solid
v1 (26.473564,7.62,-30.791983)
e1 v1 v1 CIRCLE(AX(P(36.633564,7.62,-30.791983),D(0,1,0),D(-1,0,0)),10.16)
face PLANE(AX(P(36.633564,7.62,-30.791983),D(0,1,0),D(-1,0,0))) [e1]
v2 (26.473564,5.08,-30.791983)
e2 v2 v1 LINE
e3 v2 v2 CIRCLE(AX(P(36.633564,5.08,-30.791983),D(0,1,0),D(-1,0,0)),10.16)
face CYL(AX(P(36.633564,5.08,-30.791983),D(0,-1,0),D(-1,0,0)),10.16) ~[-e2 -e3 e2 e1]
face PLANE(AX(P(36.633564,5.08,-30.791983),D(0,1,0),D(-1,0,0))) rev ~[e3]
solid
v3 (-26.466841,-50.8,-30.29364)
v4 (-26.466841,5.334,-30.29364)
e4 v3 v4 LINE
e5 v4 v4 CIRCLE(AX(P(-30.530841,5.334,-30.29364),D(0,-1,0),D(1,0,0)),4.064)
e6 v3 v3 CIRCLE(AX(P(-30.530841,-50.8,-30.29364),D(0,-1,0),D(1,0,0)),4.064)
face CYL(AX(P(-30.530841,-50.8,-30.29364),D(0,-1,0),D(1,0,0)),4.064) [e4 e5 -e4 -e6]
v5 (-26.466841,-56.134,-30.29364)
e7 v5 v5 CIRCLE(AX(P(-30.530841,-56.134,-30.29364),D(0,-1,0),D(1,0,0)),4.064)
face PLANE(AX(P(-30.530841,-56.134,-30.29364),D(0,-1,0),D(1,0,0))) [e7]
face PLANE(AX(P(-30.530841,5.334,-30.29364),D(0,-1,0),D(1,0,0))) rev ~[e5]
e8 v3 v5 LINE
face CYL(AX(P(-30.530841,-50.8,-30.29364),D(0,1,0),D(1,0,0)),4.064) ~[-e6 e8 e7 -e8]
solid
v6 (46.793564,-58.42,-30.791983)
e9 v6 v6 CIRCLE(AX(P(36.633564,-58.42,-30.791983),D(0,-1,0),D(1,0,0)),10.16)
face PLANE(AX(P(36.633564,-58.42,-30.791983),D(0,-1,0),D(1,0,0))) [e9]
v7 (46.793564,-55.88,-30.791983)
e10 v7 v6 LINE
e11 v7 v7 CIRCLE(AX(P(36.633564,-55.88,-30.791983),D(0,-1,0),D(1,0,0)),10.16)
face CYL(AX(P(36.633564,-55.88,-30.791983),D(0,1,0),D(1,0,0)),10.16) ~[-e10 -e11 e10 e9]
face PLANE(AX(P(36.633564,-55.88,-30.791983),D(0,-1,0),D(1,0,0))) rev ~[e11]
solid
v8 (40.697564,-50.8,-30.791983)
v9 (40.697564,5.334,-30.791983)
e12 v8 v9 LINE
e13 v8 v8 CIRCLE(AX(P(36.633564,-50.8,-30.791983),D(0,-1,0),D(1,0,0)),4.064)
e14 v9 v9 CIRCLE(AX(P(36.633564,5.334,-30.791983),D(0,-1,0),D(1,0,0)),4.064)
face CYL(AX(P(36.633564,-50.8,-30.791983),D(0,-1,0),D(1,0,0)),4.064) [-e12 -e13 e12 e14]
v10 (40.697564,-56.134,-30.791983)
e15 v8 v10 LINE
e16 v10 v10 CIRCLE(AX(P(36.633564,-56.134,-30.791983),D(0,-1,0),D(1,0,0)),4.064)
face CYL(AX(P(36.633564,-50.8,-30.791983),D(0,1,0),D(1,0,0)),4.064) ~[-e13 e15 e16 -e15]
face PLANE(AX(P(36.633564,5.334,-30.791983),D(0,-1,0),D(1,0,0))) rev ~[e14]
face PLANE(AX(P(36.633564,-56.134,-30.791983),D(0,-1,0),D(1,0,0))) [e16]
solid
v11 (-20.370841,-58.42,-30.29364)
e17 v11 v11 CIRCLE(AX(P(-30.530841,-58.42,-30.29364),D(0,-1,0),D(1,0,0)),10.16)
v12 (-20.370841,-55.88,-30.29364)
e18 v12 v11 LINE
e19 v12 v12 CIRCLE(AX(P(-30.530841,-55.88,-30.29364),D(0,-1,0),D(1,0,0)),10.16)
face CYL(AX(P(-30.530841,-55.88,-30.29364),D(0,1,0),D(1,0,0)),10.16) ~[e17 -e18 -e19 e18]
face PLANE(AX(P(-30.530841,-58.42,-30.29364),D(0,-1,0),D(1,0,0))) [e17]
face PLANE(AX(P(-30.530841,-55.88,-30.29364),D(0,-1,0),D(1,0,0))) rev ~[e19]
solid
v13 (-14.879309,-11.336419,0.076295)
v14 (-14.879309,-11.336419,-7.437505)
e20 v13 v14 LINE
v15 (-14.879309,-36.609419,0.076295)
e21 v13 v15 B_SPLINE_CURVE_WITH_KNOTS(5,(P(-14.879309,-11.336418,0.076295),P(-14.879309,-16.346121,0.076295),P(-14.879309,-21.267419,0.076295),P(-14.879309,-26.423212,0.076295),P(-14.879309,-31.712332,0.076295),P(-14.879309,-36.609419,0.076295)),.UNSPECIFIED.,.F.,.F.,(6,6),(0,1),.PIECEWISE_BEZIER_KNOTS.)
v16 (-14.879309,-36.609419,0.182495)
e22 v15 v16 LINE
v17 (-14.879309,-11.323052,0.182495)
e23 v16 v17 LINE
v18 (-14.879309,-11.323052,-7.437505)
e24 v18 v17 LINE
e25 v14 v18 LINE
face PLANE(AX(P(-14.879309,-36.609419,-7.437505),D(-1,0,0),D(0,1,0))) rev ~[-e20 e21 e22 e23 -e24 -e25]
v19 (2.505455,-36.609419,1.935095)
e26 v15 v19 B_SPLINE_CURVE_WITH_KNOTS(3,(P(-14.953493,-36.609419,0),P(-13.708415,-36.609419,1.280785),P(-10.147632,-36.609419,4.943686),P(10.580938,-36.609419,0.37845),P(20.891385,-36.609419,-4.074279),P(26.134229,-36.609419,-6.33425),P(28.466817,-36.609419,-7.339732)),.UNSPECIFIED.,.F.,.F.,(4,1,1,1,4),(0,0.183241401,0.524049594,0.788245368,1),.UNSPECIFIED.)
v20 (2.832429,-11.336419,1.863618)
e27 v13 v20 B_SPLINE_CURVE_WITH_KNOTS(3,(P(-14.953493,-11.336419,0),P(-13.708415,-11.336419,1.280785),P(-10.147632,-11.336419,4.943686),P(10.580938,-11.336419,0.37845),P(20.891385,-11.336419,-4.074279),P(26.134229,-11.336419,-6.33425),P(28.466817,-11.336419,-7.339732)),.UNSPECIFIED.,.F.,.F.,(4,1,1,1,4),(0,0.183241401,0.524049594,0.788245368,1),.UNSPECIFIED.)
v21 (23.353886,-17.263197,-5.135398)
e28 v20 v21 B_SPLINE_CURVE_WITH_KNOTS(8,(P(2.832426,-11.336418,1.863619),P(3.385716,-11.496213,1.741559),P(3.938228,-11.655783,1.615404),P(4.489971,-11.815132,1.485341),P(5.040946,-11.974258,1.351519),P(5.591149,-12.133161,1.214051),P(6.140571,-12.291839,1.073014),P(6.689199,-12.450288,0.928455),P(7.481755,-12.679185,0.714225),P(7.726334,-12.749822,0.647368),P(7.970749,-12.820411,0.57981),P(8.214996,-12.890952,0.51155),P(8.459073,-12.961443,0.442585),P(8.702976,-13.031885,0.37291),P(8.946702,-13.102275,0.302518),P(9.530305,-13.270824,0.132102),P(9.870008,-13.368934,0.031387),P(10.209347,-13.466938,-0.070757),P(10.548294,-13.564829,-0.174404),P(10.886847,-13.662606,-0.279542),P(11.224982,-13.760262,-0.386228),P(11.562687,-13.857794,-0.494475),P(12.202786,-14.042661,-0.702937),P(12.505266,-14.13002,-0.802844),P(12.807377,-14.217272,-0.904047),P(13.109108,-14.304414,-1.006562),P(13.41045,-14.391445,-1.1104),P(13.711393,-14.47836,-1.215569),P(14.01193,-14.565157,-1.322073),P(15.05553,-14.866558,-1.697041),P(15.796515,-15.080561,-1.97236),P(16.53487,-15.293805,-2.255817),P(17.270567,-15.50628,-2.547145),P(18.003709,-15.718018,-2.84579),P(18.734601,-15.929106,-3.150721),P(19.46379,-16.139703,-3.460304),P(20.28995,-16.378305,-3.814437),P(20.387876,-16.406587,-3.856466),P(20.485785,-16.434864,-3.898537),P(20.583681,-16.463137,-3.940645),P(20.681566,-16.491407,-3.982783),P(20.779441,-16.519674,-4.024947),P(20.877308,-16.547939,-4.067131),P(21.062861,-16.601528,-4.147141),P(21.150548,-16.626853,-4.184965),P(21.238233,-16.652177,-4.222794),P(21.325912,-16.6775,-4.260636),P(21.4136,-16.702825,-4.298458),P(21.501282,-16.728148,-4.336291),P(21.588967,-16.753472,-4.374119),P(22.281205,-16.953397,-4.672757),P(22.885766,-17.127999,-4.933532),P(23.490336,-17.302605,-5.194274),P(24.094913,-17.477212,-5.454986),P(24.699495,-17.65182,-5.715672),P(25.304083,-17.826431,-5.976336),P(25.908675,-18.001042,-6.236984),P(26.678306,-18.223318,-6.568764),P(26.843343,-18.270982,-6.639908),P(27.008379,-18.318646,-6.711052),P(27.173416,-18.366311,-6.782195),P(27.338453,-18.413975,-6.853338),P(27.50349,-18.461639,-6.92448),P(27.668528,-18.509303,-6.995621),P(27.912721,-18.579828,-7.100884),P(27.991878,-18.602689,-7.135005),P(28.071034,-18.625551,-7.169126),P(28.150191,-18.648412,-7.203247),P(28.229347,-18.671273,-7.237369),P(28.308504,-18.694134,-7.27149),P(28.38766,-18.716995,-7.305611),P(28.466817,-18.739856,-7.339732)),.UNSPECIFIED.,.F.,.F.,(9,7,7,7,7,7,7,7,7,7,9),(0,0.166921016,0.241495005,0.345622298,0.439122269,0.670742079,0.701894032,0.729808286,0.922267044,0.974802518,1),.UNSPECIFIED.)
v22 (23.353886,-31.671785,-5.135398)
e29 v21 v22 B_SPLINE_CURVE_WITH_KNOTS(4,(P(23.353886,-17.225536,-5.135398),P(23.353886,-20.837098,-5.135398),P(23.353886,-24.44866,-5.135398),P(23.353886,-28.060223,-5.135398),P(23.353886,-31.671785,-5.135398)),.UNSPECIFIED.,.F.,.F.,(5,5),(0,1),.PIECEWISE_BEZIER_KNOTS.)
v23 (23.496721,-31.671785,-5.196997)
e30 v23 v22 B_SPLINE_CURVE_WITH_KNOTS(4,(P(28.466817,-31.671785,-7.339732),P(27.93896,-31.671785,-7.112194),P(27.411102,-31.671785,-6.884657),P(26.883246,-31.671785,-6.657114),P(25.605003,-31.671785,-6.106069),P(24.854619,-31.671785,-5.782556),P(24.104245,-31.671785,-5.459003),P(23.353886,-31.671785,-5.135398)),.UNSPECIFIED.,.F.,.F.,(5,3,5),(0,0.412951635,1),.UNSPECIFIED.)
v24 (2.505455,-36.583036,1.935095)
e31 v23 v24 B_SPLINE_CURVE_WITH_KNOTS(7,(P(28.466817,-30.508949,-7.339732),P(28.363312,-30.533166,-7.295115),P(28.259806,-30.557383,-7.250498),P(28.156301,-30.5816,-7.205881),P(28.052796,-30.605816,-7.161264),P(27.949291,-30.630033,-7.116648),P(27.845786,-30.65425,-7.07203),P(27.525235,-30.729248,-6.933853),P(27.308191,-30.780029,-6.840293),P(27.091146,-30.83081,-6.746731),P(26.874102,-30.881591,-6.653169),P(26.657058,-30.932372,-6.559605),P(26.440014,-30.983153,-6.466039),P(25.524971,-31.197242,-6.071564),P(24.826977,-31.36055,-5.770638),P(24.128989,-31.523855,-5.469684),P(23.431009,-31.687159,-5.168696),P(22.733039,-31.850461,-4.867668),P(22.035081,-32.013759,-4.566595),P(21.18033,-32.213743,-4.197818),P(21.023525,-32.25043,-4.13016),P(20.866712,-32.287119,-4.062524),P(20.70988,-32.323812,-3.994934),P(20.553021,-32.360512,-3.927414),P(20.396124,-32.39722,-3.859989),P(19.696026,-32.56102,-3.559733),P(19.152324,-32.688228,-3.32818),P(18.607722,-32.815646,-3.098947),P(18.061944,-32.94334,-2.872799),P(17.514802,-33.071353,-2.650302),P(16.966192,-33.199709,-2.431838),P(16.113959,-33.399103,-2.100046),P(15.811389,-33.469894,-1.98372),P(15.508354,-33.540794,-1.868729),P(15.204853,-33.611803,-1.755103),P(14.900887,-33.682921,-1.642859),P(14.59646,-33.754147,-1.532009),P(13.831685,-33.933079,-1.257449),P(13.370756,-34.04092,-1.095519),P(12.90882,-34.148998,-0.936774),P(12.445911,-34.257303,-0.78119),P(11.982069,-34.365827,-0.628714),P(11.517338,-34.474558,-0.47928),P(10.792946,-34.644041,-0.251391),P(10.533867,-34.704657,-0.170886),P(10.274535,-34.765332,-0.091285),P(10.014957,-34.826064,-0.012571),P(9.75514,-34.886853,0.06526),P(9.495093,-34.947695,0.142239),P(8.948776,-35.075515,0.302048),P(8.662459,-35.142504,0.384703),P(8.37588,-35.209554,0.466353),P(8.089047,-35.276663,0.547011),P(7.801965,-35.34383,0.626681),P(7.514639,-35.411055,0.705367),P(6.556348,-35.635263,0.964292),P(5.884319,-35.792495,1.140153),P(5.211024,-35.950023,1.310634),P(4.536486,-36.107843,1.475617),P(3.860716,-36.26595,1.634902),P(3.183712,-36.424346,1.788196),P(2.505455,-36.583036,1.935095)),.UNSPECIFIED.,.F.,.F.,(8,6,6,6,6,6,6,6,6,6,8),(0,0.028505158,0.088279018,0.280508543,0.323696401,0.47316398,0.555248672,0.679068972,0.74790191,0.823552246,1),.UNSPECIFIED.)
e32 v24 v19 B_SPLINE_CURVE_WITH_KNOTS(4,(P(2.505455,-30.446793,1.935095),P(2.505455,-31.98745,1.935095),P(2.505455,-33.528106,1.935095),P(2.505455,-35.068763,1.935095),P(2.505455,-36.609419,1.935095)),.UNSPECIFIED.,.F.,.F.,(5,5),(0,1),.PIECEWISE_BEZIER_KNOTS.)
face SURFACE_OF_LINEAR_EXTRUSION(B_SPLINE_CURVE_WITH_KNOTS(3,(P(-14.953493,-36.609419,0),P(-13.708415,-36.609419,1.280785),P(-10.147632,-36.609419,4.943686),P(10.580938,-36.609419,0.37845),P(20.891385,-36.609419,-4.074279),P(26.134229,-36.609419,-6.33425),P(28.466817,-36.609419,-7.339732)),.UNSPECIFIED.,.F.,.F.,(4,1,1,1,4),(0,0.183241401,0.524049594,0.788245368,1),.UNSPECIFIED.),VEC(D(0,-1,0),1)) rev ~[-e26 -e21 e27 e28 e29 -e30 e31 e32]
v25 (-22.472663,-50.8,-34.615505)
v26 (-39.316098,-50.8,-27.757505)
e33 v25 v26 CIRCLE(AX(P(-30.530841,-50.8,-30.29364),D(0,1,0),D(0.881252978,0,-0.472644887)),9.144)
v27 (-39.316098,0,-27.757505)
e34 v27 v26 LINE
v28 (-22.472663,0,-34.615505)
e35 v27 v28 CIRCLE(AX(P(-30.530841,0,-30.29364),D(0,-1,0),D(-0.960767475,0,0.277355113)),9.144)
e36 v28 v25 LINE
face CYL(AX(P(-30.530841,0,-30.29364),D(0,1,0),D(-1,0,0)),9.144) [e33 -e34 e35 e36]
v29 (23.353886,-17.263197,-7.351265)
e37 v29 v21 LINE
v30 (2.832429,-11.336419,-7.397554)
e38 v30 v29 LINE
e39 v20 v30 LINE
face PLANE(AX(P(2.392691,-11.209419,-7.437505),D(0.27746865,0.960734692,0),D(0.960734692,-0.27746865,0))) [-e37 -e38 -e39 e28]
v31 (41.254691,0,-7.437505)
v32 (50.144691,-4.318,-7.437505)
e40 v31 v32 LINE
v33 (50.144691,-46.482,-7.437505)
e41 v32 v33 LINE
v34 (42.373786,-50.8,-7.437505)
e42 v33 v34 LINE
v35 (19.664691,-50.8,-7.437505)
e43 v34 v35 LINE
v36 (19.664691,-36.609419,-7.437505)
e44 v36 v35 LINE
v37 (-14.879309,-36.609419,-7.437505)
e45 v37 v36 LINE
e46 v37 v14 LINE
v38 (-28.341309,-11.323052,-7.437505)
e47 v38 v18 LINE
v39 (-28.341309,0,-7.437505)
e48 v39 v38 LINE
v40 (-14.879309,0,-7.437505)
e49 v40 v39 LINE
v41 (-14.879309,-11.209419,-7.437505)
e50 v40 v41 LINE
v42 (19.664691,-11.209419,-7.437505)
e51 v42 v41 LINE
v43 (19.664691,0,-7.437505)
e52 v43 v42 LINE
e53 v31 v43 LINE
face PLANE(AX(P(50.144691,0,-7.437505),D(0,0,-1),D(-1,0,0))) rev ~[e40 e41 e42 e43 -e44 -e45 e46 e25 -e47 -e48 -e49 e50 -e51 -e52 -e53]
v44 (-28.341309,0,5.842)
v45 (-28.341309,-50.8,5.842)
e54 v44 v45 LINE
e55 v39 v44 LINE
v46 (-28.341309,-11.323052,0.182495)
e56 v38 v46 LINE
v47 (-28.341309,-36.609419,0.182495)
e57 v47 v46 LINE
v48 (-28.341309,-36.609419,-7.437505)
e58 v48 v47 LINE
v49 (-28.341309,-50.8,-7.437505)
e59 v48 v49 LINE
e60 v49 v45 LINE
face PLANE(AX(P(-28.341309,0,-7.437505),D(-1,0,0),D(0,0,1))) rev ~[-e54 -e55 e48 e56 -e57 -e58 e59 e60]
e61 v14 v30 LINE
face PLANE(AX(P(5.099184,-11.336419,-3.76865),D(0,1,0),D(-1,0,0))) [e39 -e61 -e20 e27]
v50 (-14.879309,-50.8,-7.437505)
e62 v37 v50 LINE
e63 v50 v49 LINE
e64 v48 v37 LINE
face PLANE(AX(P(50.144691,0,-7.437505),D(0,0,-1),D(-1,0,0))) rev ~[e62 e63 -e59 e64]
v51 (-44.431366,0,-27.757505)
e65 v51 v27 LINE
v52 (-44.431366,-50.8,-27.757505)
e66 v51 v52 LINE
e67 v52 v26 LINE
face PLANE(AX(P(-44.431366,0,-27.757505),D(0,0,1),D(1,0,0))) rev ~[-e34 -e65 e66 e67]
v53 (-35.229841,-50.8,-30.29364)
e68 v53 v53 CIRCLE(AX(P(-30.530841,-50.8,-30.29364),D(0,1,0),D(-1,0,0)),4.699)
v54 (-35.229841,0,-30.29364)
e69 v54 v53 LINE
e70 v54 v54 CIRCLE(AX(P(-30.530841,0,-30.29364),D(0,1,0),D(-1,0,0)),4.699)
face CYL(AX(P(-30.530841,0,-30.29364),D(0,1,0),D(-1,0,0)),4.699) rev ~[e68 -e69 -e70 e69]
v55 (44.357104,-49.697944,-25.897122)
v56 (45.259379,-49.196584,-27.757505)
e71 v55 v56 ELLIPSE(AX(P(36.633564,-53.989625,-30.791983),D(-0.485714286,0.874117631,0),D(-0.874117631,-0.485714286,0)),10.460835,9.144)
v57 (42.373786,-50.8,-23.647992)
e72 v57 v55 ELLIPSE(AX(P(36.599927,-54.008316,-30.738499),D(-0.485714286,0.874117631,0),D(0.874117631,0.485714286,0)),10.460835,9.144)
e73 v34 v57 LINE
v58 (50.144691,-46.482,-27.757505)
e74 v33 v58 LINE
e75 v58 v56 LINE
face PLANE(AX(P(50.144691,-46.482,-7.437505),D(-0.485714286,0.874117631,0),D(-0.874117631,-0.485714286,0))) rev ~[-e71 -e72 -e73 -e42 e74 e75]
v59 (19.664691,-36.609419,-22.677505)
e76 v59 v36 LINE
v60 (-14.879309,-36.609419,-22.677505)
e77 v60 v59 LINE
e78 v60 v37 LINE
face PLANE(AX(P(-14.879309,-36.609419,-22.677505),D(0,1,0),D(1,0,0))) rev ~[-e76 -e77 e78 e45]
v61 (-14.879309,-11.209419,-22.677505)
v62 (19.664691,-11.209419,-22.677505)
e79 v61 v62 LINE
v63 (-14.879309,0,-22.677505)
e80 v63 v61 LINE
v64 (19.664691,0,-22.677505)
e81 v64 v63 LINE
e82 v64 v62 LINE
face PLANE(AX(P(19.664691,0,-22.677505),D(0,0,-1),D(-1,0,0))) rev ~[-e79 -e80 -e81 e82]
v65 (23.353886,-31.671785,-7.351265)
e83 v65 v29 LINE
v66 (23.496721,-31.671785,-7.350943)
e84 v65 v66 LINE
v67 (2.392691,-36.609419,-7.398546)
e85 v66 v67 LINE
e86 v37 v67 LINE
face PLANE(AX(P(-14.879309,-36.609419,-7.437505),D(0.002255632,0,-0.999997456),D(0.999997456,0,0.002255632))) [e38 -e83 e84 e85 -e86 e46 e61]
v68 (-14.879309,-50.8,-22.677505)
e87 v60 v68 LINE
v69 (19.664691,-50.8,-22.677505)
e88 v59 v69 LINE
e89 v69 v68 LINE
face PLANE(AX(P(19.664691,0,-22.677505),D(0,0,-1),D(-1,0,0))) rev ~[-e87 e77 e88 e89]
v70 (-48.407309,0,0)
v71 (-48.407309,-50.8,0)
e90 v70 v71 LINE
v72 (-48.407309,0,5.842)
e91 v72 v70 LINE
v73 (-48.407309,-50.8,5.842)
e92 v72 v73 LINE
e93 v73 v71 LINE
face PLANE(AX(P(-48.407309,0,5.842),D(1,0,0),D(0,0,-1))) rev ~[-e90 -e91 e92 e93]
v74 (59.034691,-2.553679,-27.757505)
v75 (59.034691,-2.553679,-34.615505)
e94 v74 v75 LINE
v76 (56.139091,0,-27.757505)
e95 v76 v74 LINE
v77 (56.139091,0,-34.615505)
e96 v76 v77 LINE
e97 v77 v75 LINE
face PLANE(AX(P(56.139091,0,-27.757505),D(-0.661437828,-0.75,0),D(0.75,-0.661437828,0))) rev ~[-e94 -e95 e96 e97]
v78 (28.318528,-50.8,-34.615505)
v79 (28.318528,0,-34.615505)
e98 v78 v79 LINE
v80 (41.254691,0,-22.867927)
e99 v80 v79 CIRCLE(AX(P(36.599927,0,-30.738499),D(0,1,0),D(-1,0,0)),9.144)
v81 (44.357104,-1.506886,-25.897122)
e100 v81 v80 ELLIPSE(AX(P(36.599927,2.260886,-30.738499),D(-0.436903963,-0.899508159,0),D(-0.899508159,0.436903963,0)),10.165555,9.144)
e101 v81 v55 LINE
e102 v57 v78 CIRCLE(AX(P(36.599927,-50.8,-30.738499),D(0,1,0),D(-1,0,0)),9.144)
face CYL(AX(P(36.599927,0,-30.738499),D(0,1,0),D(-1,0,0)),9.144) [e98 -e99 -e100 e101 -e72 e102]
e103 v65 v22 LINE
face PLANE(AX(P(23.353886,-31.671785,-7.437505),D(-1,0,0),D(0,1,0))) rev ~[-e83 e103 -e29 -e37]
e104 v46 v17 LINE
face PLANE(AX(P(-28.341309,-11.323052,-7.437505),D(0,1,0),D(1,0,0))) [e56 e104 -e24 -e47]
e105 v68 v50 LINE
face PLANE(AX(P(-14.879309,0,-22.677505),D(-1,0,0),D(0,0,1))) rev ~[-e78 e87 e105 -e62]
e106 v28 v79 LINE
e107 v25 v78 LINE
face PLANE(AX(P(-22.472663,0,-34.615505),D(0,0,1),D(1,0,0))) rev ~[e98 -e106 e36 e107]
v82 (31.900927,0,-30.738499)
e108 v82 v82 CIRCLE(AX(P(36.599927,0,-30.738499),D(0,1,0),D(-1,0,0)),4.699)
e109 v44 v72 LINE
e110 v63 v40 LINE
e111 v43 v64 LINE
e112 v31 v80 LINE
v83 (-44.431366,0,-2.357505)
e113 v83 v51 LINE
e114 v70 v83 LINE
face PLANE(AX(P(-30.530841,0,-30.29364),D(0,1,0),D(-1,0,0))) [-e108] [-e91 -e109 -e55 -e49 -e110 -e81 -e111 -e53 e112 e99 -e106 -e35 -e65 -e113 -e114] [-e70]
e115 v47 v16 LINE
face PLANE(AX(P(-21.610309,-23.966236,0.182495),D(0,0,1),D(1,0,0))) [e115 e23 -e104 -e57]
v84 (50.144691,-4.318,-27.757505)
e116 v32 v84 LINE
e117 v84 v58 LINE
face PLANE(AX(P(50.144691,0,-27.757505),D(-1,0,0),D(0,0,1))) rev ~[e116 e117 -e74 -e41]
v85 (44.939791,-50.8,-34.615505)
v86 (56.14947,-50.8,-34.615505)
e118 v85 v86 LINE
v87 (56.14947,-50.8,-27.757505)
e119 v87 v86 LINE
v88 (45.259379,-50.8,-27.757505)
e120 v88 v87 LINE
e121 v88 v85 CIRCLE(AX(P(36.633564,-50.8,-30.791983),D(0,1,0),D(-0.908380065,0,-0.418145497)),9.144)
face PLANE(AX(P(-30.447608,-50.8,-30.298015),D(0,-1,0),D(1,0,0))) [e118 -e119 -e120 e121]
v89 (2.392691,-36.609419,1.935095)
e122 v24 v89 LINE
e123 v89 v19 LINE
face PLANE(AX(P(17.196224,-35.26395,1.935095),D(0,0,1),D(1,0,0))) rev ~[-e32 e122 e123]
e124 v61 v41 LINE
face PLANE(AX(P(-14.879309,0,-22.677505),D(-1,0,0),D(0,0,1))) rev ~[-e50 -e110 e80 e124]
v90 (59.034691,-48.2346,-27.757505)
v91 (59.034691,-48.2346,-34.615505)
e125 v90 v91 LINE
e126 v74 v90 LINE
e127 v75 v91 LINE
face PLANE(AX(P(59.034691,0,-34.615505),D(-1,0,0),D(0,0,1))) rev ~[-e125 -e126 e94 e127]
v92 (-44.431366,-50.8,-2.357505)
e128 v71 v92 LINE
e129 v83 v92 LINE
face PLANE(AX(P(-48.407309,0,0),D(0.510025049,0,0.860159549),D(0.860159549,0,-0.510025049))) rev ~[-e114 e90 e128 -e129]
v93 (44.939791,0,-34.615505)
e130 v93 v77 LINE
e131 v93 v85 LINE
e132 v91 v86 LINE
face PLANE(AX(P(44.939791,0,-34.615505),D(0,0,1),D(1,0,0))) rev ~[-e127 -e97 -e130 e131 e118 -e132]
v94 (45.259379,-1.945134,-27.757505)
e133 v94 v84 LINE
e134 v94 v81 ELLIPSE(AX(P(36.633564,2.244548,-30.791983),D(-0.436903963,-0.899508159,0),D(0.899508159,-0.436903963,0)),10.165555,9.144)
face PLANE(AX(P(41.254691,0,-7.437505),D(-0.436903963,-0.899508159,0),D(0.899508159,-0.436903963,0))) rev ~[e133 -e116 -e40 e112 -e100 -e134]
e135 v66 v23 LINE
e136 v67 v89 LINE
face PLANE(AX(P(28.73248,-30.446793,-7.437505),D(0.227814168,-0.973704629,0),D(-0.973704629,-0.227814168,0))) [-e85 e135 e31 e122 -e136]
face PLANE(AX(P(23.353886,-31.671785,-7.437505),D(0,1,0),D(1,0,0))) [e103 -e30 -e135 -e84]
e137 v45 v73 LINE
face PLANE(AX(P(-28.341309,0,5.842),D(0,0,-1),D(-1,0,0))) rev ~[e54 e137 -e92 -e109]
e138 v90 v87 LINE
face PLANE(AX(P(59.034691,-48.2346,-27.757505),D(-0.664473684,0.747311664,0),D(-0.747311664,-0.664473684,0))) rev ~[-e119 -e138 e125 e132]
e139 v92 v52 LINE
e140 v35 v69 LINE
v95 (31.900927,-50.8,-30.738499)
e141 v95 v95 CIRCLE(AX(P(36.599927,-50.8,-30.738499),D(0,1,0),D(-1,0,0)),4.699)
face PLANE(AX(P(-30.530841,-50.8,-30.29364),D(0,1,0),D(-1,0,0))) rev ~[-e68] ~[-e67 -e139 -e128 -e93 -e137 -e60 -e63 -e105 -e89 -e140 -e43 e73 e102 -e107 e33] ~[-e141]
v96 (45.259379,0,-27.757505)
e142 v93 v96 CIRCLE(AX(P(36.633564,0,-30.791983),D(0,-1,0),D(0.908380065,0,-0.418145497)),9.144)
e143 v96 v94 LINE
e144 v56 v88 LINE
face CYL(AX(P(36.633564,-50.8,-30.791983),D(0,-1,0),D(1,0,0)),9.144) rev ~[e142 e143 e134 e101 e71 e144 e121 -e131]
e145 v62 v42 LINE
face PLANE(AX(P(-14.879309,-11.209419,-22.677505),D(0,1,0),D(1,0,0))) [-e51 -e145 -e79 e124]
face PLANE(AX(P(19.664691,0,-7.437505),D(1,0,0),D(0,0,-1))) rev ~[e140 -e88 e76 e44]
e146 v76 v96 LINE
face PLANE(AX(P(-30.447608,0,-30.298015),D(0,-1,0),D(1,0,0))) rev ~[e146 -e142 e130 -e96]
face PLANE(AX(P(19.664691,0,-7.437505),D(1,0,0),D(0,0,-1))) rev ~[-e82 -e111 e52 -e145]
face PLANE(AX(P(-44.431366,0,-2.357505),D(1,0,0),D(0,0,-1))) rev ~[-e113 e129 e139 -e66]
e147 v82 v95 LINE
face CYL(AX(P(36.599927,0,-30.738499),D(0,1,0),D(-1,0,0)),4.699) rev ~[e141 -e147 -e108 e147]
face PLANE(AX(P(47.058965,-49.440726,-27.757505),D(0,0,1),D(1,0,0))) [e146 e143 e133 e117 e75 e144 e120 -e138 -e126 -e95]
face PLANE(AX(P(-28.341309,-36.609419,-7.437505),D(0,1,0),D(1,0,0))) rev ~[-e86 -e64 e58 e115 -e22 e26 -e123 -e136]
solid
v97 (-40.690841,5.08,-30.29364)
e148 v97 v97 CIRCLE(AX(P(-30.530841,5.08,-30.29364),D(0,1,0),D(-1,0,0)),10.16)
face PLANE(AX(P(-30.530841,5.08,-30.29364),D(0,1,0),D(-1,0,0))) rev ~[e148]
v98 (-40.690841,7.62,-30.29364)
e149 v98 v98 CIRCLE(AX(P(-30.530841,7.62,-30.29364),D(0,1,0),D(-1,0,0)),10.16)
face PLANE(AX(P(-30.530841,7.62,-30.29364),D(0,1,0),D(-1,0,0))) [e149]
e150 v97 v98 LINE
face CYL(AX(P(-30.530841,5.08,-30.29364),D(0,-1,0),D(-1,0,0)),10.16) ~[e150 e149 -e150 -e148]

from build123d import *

# Parameters (mm, degrees)
F1_DEPTH      = 50.8
F2_R          = 9.144
F3_DEPTH      = 54.864
F4_R          = 4.064
F5_DEPTH      = 56.134
F5_DEPTH_BACK = 5.334
F7_START      = 5.08
F6_R          = 10.16
F7_DEPTH      = 2.54
F9_START      = 5.08
F8_R          = 10.16
F9_DEPTH      = 2.54
F10_W         = 34.544
F10_H         = 25.4
F11_DEPTH     = 15.24
F12_W         = 13.462
F12_H         = 25.2863662317
F13_DEPTH     = 7.62
F15_DEPTH     = 25.273
F17_DEPTH     = 9.3726
F19_DEPTH     = 20.32
F20_R         = 9.144
F20_R_2       = 4.699
F21_DEPTH     = 50.8
F22_W         = 6.9764815271
F22_H         = 14.4462492317
F23_DEPTH     = 11.176
F25_DEPTH     = 25.4


with BuildPart() as f1:
    # F0 (on Front) → F1 (new body)
    with BuildSketch(Plane.XZ):
        with BuildLine():
            ThreePointArc((-39.3160984872, -27.7575049432), (-33.9790579937, -38.7625558195), (-22.4726634651, -34.6155049432))
            ThreePointArc((-22.4726634651, -34.6155049432), (-21.6624499567, -32.5217293492), (-21.3868406955, -30.2936400999))
            ThreePointArc((-21.3868406955, -30.2936400999), (-29.2501497194, -21.2397698433), (-39.3160984872, -27.7575049432))
        make_face()
        with BuildLine():
            ThreePointArc((-21.3868406955, -30.2936400999), (-21.6624499567, -32.5217293492), (-22.4726634651, -34.6155049432))
            Line((-22.4726634651, -34.6155049432), (28.3273365349, -34.6155049432))
            ThreePointArc((28.3273365349, -34.6155049432), (34.6764494687, -21.8598808978), (45.7775638516, -30.7919825146))
            ThreePointArc((45.7775638516, -30.7919825146), (45.5656654684, -32.7490968975), (44.9397911684, -34.6155049432))
            Line((44.9397911684, -34.6155049432), (59.0346912427, -34.6155049432))
            Line((59.0346912427, -34.6155049432), (59.0346912427, -27.7575049432))
            Line((59.0346912427, -27.7575049432), (50.1446912427, -27.7575049432))
            Line((50.1446912427, -27.7575049432), (50.1446912427, -7.4375049432))
            Line((50.1446912427, -7.4375049432), (19.6646912427, -7.4375049432))
            Line((19.6646912427, -7.4375049432), (19.6646912427, -22.6775049432))
            Line((19.6646912427, -22.6775049432), (-14.8793087573, -22.6775049432))
            Line((-14.8793087573, -22.6775049432), (-14.8793087573, -7.4375049432))
            Line((-14.8793087573, -7.4375049432), (-28.3413087573, -7.4375049432))
            Line((-28.3413087573, -7.4375049432), (-28.3413087573, 5.842))
            Line((-28.3413087573, 5.842), (-48.4073087573, 5.842))
            Line((-48.4073087573, 5.842), (-48.4073087573, 0))
            Line((-48.4073087573, 0), (-44.4313660264, -2.3575049432))
            Line((-44.4313660264, -2.3575049432), (-44.4313660264, -27.7575049432))
            Line((-44.4313660264, -27.7575049432), (-39.3160984872, -27.7575049432))
            ThreePointArc((-39.3160984872, -27.7575049432), (-29.2501497194, -21.2397698433), (-21.3868406955, -30.2936400999))
        make_face()
        with BuildLine():
            ThreePointArc((45.7775638516, -30.7919825146), (34.6764494687, -21.8598808978), (28.3273365349, -34.6155049432))
            ThreePointArc((28.3273365349, -34.6155049432), (36.6335638516, -39.9359825146), (44.9397911684, -34.6155049432))
            ThreePointArc((44.9397911684, -34.6155049432), (45.5656654684, -32.7490968975), (45.7775638516, -30.7919825146))
        make_face()
    extrude(amount=F1_DEPTH)

    # F2 (on face) → F3 (cut)
    with BuildSketch(Plane.XZ.offset(50.8)):
        with Locations((-30.5308406955, -30.2936400999)):
            Circle(F2_R)
        with Locations((36.6335638516, -30.7919825146)):
            Circle(F2_R)
    extrude(amount=-F3_DEPTH, mode=Mode.SUBTRACT)

    # F10 (on face) → F11 (join)
    with BuildSketch(Plane.XY.offset(-22.6775049432)):
        with Locations((2.3926912427, -23.9094186902)):
            Rectangle(F10_W, F10_H)
    extrude(amount=F11_DEPTH)

    # F12 (on face) → F13 (join)
    with BuildSketch(Plane.XY.offset(-7.4375049432)):
        with Locations((-21.6103087573, -23.9662355743)):
            Rectangle(F12_W, F12_H)
    extrude(amount=F13_DEPTH)

    # F14 (on face) → F15 (join)
    with BuildSketch(Plane.XZ.offset(36.6094186902)):
        with BuildLine():
            add(Edge.make_bspline(
                [(-14.9534931406, 0), (-13.7084147885, 1.280785357), (-10.1476321192, 4.9436860046), (10.580938155, 0.3784500707), (20.8913849344, -4.0742789406), (26.1342285398, -6.3342501821), (28.4668169916, -7.3397317901)],
                knots=[0, 0, 0, 0, 0.183241401, 0.5240495941, 0.7882453676, 1, 1, 1, 1], degree=3))
            Line((-14.9534931406, 0), (-14.8793087573, -7.4375049432))
            Line((-14.8793087573, -7.4375049432), (28.4668169916, -7.3397317901))
        make_face()
    extrude(amount=-F15_DEPTH)

    # F16 (on face) → F17 (cut)
    with BuildSketch(Plane.XY.offset(-7.4375049432)):
        Polygon((2.3926912427, -11.2094186902), (28.6921481749, -18.8049337278), (28.7324799613, -11.1850404643), align=None)
        Polygon((28.6921481749, -38.0666863767), (28.7324799613, -30.4467931132), (2.3926912427, -36.6094186902), align=None)
    extrude(amount=F17_DEPTH, mode=Mode.SUBTRACT)

    # F18 (on face) → F19 (cut)
    with BuildSketch(Plane.XY.offset(-7.4375049432)):
        Polygon((50.1446912427, -4.318), (50.1446912427, 0), (41.2546912427, 0), align=None)
        Polygon((42.373785504, -50.8), (50.1446912427, -50.8), (50.1446912427, -46.482), align=None)
    extrude(amount=-F19_DEPTH, mode=Mode.SUBTRACT)

    # F20 (on face) → F21 (join)
    with BuildSketch(Plane(origin=(0, 0, 0), x_dir=(-1, 0, 0), z_dir=(0, 1, 0))):
        with Locations((30.5308406955, -30.2936400999)):
            Circle(F20_R)
        with Locations((30.5308406955, -30.2936400999)):
            Circle(F20_R_2, mode=Mode.SUBTRACT)
        with Locations((-36.5999266505, -30.7384990156)):
            Circle(F20_R)
        with Locations((-36.5999266505, -30.7384990156)):
            Circle(F20_R_2, mode=Mode.SUBTRACT)
    extrude(amount=-F21_DEPTH)

    # F22 (on face) → F23 (cut)
    with BuildSketch(Plane.XY.offset(-7.4375049432)):
        with Locations((26.8421266228, -24.4486602023)):
            Rectangle(F22_W, F22_H)
    extrude(amount=F23_DEPTH, mode=Mode.SUBTRACT)

    # F24 (on face) → F25 (cut)
    with BuildSketch(Plane.XY.offset(-27.7575049432)):
        Polygon((59.0346912427, 0), (56.1390912427, 0), (59.0346912427, -2.5536791654), align=None)
        Polygon((59.0346912427, -48.2346), (56.1494703707, -50.8), (59.0346912427, -50.8), align=None)
    extrude(amount=-F25_DEPTH, mode=Mode.SUBTRACT)


with BuildPart() as f5:
    # F4 (on face) → F5 (new body, two sides)
    with BuildSketch(Plane.XZ.offset(50.8)) as f5_sk:
        with Locations((36.6335638516, -30.7919825146)):
            Circle(F4_R)
    extrude(amount=-F5_DEPTH)
    extrude(f5_sk.sketch, amount=F5_DEPTH_BACK)


with BuildPart() as f5b:
    # F4 (on face) → F5, piece 2 (new body, two sides)
    with BuildSketch(Plane.XZ.offset(50.8)) as f5_2_sk:
        with Locations((-30.5308406955, -30.2936400999)):
            Circle(F4_R)
    extrude(amount=-F5_DEPTH)
    extrude(f5_2_sk.sketch, amount=F5_DEPTH_BACK)


with BuildPart() as f7:
    # F6 (on face) → F7 (new body)
    with BuildSketch(Plane.XZ.offset(50.8).offset(F7_START)):
        with Locations((-30.5308406955, -30.2936400999)):
            Circle(F6_R)
    extrude(amount=F7_DEPTH)


with BuildPart() as f7b:
    # F6 (on face) → F7, piece 2 (new body)
    with BuildSketch(Plane.XZ.offset(50.8).offset(F7_START)):
        with Locations((36.6335638516, -30.7919825146)):
            Circle(F6_R)
    extrude(amount=F7_DEPTH)


with BuildPart() as f9:
    # F8 (on face) → F9 (new body)
    with BuildSketch(Plane(origin=(0, 0, 0), x_dir=(-1, 0, 0), z_dir=(0, 1, 0)).offset(F9_START)):
        with Locations((-36.6335638516, -30.7919825146)):
            Circle(F8_R)
    extrude(amount=F9_DEPTH)


with BuildPart() as f9b:
    # F8 (on face) → F9, piece 2 (new body)
    with BuildSketch(Plane(origin=(0, 0, 0), x_dir=(-1, 0, 0), z_dir=(0, 1, 0)).offset(F9_START)):
        with Locations((30.5308406955, -30.2936400999)):
            Circle(F8_R)
    extrude(amount=F9_DEPTH)


solid = Compound([f1.part, f5.part, f5b.part, f7.part, f7b.part, f9.part, f9b.part])
